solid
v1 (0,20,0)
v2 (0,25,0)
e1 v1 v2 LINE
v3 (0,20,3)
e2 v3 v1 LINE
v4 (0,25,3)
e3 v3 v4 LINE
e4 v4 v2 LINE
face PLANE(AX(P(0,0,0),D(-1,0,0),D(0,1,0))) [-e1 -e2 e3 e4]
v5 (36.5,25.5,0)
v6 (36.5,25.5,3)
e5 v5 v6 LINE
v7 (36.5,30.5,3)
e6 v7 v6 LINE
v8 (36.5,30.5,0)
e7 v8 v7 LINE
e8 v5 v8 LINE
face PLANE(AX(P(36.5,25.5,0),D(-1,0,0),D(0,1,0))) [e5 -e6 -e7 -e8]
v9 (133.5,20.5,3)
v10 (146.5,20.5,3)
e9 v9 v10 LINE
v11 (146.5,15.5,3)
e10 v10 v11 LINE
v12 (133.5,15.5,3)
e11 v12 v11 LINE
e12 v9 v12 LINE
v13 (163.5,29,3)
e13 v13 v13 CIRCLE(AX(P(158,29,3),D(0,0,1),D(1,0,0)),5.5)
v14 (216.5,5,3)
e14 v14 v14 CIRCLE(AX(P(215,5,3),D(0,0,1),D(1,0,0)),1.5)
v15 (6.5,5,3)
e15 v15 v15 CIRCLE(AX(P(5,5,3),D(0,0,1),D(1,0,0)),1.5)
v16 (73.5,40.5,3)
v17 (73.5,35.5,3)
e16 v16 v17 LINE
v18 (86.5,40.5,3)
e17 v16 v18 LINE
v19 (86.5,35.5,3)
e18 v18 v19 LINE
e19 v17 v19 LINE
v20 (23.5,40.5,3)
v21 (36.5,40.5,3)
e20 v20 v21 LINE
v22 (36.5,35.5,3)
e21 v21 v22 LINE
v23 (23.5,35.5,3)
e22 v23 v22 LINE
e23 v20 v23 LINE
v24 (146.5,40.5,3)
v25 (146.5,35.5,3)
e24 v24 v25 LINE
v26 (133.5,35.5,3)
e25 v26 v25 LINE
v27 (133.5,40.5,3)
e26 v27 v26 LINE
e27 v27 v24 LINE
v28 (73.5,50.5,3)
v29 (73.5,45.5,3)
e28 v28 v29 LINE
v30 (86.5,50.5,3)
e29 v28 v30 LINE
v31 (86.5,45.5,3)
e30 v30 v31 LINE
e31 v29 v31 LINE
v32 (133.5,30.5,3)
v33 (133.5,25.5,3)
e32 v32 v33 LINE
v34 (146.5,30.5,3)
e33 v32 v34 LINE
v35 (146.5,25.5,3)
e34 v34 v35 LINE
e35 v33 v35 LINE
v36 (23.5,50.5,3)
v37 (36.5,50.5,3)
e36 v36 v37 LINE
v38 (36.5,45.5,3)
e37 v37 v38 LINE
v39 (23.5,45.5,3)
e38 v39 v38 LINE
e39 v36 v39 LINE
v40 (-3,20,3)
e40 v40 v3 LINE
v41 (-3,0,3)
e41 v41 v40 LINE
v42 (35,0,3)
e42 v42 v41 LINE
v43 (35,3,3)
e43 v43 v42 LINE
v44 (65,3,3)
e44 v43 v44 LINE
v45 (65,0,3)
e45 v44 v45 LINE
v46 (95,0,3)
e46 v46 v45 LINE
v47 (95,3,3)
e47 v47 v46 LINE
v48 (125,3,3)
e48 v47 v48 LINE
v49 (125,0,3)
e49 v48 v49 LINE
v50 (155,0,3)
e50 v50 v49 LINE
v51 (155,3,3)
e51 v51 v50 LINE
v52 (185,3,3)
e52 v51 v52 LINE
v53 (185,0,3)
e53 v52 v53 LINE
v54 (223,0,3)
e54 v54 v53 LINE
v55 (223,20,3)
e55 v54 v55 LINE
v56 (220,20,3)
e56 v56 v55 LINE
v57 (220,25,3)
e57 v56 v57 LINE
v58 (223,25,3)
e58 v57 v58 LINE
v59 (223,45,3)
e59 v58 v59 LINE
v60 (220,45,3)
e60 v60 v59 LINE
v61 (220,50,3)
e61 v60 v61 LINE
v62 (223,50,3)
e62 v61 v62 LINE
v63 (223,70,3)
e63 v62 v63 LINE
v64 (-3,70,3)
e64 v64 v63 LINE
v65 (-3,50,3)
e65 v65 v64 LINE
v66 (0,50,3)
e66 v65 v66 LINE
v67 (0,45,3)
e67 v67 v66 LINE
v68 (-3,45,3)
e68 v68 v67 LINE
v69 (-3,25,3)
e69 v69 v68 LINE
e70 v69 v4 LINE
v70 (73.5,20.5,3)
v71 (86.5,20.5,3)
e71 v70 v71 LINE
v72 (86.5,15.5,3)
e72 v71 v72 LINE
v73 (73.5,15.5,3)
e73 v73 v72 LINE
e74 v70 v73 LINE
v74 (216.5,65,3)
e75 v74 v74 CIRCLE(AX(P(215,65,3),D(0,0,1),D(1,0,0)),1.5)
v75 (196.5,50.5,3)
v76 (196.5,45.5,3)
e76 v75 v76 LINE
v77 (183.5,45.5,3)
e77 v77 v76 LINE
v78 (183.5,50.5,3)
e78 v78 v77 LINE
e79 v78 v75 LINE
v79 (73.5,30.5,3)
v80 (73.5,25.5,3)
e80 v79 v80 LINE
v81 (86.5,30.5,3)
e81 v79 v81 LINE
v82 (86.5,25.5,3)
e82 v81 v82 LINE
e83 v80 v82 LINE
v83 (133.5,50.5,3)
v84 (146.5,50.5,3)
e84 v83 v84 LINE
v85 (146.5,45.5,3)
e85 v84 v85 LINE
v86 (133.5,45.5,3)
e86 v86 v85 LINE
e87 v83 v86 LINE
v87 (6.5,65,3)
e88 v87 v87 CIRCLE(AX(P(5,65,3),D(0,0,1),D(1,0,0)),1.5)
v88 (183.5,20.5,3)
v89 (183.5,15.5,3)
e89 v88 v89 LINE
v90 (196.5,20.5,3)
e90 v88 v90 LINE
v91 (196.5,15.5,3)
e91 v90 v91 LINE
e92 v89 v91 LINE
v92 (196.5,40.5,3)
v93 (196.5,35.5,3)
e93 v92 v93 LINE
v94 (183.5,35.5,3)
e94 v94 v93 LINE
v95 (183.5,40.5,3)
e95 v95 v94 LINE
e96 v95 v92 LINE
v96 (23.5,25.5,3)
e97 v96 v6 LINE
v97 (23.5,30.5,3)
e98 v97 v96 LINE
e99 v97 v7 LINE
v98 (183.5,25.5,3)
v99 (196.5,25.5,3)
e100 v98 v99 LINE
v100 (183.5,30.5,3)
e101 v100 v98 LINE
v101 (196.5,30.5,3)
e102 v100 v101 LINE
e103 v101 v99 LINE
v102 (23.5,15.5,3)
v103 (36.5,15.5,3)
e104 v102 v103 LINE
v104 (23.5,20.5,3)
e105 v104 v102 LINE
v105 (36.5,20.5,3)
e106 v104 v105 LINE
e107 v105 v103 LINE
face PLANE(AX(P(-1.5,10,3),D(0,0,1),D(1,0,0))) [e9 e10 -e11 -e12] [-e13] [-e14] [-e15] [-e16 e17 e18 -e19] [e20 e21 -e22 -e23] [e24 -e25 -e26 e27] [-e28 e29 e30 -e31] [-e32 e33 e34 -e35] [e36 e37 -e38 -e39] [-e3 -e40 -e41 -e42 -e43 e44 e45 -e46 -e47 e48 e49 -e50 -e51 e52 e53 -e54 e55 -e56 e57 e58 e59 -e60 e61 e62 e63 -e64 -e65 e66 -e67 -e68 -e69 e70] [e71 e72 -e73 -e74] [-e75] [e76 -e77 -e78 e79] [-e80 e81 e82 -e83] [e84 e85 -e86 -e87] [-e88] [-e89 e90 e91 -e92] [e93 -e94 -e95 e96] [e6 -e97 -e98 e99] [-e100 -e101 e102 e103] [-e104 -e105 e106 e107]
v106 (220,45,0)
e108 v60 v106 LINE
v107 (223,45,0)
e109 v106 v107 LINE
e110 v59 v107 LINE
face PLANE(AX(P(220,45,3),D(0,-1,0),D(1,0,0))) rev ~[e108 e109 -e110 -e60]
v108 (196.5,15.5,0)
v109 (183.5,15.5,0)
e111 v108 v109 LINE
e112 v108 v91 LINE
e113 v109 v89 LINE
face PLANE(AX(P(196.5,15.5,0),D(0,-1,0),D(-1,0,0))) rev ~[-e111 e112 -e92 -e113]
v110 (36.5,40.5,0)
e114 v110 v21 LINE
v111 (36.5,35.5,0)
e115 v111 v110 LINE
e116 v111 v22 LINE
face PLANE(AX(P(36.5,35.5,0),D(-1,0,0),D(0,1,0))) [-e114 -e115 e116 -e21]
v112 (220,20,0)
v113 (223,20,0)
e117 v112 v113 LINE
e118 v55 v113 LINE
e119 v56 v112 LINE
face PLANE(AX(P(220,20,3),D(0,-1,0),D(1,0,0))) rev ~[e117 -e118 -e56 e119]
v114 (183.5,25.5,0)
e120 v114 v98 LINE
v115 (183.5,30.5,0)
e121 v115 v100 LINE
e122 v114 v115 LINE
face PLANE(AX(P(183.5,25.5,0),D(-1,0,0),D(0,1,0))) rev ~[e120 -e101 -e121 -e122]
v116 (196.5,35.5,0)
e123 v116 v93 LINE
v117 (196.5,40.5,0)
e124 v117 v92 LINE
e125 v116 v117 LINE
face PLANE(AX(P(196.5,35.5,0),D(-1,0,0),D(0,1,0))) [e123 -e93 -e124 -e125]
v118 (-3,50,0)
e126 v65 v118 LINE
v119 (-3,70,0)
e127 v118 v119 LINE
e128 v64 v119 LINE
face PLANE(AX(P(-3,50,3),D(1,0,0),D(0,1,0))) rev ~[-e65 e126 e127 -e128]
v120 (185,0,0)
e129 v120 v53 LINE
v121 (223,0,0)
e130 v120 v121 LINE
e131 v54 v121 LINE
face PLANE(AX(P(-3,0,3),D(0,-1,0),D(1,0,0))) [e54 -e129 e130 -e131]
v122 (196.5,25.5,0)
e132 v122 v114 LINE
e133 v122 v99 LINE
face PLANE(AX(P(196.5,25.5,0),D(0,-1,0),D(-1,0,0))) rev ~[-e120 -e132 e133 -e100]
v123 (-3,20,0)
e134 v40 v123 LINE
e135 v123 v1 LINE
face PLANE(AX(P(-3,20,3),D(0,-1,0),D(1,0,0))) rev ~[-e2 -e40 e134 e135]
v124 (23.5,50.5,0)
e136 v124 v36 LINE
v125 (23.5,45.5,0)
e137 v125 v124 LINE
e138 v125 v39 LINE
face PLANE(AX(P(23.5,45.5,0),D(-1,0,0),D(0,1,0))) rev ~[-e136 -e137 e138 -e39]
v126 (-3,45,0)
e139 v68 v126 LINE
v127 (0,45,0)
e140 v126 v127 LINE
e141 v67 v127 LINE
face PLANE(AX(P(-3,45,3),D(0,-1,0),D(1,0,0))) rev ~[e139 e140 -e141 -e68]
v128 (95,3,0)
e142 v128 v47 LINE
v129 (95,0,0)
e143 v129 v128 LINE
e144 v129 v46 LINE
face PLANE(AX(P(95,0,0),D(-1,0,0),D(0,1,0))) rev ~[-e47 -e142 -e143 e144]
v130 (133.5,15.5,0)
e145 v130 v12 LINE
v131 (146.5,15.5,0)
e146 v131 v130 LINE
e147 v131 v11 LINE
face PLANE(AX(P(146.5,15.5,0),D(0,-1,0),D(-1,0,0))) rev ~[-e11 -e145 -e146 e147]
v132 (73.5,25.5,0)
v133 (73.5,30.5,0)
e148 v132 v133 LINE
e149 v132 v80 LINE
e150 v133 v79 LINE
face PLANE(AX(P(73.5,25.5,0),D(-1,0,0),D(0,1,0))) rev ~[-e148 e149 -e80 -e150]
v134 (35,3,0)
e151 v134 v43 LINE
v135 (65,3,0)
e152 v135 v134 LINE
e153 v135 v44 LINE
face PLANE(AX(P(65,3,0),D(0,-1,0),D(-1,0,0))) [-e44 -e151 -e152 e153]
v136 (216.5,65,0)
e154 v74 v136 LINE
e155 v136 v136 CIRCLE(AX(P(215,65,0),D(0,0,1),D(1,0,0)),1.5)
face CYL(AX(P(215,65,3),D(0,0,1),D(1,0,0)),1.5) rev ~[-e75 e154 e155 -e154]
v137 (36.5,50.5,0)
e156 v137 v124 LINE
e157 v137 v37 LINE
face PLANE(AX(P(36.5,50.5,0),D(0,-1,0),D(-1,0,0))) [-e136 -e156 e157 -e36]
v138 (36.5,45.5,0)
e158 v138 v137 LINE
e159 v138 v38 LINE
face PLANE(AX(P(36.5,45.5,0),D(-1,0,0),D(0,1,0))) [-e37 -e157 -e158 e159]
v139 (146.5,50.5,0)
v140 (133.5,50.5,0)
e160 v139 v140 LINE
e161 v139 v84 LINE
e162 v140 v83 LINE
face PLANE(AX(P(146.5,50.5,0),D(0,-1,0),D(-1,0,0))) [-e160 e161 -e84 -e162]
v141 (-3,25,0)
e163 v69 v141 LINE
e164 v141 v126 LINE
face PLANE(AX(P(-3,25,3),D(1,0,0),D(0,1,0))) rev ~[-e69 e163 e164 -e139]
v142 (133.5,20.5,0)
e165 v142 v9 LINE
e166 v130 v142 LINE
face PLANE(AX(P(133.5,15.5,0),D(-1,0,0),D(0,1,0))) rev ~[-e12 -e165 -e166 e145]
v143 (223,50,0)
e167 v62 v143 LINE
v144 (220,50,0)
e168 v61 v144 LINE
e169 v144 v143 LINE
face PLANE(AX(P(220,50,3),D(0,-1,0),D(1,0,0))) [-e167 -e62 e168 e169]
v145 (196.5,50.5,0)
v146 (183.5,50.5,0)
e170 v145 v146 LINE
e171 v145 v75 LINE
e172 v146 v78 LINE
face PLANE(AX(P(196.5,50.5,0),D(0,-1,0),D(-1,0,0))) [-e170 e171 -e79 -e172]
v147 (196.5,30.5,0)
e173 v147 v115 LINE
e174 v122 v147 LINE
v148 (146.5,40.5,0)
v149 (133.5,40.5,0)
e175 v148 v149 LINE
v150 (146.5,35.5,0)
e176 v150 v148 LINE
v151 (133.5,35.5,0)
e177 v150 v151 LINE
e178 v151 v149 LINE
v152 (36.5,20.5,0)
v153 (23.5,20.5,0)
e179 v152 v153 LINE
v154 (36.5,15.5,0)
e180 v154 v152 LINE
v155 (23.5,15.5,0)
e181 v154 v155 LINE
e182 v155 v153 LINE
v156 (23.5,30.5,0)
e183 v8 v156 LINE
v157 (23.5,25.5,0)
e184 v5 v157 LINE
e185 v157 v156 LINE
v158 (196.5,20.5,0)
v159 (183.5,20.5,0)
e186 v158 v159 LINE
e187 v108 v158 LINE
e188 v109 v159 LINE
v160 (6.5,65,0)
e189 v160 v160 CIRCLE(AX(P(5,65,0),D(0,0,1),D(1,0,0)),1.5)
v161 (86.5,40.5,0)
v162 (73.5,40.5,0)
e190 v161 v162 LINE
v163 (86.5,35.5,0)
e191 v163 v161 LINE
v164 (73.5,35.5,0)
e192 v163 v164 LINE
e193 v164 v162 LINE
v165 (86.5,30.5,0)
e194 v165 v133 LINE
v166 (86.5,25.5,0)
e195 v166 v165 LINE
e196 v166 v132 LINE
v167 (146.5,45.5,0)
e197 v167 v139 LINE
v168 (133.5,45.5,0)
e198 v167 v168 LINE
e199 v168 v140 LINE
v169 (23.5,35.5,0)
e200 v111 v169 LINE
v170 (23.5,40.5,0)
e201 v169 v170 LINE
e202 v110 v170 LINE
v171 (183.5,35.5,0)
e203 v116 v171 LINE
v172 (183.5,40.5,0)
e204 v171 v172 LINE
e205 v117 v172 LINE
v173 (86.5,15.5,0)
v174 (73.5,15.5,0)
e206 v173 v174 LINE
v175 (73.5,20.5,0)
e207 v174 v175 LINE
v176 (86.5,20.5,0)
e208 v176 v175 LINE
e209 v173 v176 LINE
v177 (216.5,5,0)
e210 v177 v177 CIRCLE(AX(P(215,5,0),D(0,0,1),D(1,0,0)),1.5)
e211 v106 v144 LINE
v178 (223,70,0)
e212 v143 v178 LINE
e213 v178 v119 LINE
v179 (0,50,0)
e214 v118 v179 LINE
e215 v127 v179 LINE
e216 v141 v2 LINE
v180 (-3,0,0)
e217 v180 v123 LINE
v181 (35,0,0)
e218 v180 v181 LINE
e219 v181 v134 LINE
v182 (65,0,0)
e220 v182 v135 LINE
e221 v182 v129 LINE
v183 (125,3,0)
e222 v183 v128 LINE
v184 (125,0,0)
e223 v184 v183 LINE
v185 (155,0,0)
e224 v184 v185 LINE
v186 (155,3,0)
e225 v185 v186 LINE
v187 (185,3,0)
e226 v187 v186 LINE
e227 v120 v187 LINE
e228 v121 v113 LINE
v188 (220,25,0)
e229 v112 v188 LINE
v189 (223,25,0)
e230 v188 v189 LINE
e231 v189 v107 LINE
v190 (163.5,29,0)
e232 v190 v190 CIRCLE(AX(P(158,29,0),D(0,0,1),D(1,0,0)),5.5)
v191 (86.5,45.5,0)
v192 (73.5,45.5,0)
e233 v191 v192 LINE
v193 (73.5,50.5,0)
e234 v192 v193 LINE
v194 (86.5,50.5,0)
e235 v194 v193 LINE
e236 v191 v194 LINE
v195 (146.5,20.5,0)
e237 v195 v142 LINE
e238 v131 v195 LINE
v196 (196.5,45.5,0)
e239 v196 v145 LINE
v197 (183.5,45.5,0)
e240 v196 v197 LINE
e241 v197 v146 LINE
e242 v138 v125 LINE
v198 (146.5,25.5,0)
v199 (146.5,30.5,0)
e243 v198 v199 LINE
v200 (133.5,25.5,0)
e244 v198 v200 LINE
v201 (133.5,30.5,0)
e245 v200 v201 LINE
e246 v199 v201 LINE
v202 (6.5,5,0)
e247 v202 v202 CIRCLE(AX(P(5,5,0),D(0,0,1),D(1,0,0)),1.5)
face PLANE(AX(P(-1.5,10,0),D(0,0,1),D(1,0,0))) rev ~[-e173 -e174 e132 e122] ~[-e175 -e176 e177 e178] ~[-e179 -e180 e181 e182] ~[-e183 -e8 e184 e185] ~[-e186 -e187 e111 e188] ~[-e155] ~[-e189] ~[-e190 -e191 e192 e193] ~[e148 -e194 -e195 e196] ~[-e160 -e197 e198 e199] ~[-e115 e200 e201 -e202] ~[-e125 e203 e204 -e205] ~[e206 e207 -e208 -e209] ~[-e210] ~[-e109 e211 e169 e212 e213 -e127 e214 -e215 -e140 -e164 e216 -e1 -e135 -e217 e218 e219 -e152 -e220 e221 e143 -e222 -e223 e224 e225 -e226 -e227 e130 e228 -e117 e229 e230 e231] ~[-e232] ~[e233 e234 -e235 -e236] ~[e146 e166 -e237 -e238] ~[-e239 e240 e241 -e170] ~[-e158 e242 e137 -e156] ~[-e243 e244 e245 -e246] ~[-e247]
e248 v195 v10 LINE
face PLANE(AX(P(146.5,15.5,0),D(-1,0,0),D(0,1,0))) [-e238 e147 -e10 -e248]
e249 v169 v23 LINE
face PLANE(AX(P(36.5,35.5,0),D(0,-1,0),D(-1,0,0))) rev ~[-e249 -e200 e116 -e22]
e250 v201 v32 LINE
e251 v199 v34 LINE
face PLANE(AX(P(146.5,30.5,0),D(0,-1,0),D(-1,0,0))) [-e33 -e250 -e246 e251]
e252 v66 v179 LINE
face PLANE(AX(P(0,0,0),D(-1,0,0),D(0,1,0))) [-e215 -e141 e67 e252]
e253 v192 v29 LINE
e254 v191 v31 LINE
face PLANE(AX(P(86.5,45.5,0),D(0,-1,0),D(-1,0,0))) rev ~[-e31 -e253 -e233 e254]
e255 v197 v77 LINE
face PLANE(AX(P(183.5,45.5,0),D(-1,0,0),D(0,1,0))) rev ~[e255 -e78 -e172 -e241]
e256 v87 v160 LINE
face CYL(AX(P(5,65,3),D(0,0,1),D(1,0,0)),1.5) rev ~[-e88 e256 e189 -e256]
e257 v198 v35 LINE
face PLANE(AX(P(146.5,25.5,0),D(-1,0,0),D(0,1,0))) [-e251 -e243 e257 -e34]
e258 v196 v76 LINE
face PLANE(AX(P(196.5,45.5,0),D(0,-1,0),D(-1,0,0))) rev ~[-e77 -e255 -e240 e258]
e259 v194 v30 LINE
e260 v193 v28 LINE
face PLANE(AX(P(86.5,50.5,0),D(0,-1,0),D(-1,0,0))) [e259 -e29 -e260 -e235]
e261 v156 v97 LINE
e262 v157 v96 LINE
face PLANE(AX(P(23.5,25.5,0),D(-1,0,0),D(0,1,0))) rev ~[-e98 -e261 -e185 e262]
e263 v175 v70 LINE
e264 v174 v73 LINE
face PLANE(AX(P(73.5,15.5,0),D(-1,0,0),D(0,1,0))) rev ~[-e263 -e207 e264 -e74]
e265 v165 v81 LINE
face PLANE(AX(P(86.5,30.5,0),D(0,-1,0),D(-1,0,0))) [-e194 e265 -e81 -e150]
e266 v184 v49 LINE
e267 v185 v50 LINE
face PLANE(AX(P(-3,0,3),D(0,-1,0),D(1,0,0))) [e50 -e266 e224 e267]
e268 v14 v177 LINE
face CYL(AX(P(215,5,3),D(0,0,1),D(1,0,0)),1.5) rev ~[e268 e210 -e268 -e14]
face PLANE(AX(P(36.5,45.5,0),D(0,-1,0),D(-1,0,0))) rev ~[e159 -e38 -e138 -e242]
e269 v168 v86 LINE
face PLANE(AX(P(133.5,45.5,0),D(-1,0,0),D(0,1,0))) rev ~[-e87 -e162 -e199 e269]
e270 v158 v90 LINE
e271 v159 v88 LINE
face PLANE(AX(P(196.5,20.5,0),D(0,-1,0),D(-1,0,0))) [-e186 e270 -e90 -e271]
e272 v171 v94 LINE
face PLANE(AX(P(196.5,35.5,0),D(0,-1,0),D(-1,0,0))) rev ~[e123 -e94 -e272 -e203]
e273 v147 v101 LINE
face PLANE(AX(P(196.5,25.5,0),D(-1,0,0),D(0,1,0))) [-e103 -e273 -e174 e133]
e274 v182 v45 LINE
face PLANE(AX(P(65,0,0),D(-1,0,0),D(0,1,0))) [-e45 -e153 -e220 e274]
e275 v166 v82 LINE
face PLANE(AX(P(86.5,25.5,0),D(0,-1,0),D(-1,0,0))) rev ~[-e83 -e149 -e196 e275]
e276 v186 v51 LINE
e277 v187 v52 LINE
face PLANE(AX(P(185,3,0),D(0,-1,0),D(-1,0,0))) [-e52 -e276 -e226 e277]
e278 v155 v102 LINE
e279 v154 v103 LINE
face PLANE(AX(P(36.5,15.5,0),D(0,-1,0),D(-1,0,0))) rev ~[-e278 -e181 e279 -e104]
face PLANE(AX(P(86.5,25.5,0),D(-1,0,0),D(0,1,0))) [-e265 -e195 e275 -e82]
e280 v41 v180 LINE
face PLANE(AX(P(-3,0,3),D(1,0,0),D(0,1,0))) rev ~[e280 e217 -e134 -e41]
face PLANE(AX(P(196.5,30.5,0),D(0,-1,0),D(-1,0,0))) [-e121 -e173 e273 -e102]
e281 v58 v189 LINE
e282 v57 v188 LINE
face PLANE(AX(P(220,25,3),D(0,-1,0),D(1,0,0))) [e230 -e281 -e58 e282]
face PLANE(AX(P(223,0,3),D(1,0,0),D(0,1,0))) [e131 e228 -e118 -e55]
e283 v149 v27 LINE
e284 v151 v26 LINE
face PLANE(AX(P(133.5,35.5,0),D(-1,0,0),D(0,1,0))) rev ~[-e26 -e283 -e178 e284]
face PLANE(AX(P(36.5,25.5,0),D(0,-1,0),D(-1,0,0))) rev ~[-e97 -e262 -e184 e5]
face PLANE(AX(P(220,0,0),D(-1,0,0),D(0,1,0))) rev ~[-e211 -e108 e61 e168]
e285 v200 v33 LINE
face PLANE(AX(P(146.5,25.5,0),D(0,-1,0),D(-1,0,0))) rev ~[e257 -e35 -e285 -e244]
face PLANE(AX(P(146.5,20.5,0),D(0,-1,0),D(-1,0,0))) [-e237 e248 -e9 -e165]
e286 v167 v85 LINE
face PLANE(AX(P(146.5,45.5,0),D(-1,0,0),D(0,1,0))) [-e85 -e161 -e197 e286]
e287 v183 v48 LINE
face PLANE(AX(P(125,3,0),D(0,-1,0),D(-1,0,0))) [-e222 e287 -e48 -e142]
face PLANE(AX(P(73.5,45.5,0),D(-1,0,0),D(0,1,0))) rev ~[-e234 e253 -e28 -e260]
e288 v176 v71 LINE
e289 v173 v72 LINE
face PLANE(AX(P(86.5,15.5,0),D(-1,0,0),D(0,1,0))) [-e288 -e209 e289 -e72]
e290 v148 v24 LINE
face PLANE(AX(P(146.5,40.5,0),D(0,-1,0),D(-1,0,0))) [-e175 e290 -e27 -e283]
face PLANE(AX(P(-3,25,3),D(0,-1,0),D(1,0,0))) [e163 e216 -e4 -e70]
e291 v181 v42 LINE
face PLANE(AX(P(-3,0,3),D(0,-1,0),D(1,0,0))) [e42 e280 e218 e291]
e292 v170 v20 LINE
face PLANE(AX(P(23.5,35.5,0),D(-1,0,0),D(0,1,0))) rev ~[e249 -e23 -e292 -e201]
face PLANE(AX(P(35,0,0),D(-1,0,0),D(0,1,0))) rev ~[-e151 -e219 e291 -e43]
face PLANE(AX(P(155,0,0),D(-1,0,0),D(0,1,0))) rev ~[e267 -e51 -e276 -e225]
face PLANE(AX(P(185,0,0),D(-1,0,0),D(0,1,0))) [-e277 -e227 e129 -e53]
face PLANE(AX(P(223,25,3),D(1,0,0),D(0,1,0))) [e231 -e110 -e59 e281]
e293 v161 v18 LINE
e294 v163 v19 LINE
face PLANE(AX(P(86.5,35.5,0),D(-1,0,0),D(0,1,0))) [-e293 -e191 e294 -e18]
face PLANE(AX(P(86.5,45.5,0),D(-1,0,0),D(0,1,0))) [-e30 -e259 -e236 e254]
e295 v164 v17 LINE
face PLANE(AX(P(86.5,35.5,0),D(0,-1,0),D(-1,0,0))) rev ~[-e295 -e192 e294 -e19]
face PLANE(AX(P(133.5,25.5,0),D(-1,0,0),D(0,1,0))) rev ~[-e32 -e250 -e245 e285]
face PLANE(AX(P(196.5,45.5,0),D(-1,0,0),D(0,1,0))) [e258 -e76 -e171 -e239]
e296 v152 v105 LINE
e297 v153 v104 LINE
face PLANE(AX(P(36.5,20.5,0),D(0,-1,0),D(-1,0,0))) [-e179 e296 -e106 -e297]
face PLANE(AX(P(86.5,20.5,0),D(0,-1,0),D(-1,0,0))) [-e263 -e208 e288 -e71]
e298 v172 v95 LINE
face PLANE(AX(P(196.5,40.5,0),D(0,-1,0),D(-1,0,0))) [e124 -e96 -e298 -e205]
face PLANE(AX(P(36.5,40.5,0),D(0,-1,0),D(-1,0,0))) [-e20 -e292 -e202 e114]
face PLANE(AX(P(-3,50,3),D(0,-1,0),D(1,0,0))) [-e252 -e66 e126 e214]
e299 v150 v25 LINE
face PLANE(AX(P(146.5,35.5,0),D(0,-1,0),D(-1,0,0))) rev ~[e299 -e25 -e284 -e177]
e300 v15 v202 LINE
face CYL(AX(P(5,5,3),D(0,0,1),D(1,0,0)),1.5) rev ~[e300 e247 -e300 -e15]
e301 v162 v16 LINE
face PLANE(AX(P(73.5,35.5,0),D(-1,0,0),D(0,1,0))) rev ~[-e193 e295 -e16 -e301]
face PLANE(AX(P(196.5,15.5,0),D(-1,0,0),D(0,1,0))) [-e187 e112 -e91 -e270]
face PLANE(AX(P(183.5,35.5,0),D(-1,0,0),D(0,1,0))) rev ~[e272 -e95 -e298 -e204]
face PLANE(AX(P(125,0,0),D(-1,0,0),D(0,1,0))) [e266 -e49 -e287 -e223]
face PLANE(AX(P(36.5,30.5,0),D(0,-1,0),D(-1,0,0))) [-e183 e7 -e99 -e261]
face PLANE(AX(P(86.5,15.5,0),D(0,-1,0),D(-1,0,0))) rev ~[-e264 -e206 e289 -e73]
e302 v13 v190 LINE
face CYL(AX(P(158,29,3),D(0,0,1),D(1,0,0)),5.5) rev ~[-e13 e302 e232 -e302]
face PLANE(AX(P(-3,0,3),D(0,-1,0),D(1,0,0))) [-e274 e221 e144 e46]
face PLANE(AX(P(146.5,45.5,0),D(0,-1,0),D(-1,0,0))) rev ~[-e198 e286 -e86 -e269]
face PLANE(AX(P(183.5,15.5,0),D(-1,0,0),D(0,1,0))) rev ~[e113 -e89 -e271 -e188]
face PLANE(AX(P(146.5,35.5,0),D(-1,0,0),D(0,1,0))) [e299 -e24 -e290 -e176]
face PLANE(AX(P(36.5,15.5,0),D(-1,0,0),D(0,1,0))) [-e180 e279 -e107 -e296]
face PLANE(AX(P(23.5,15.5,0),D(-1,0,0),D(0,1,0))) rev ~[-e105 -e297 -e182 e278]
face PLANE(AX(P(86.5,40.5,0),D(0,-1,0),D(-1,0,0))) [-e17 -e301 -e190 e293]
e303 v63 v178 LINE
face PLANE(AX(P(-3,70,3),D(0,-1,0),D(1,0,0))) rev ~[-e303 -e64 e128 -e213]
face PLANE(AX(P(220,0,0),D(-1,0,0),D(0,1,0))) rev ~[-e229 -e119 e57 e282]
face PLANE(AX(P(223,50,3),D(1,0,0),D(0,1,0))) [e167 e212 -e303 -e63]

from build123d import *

# Parameters (mm, degrees)
SKETCH1_W           = 220
SKETCH1_H           = 70
BOSS_EXTRUDE1_DEPTH = 3
SKETCH2_2_R         = 1.5
CUT_EXTRUDE2_DEPTH  = 231.887418453
SKETCH3_W           = 3
SKETCH3_H           = 20
BOSS_EXTRUDE4_DEPTH = 3
LPATTERN1_COUNT     = 2
LPATTERN1_PITCH     = 25
LPATTERN1_COL_COUNT = 2
LPATTERN1_COL_PITCH = 25
SKETCH4_W           = 30
SKETCH4_H           = 3
CUT_EXTRUDE3_DEPTH  = 234.747727262
SKETCH5_R           = 5.5
CUT_EXTRUDE4_DEPTH  = 234.747727262
SKETCH6_W           = 13
SKETCH6_H           = 5
CUT_EXTRUDE5_DEPTH  = 234.747727262


with BuildPart() as part:
    # Sketch1 → Boss-Extrude1 (new body)
    with BuildSketch(Plane.XY):
        with Locations((110, 35)):
            Rectangle(SKETCH1_W, SKETCH1_H)
    extrude(amount=BOSS_EXTRUDE1_DEPTH)

    # Sketch2<2> → Cut-Extrude2 (cut, through all)
    with BuildSketch(Plane.XY.offset(3)):
        with Locations((5, 65)):
            Circle(SKETCH2_2_R)
        with Locations((5, 5)):
            Circle(SKETCH2_2_R)
        with Locations((215, 5)):
            Circle(SKETCH2_2_R)
        with Locations((215, 65)):
            Circle(SKETCH2_2_R)
    extrude(amount=-CUT_EXTRUDE2_DEPTH, mode=Mode.SUBTRACT)

    # Sketch3 → Boss-Extrude4 (add)
    with BuildSketch(Plane.XY.offset(3)):
        with Locations((-1.5, 35)):
            Rectangle(SKETCH3_W, SKETCH3_H)
        with Locations((221.5, 35)):
            Rectangle(SKETCH3_W, SKETCH3_H)
    boss_extrude4 = extrude(amount=-BOSS_EXTRUDE4_DEPTH)

    # LPattern1: Boss-Extrude4 ×2
    with Locations(*[(0, i * LPATTERN1_PITCH, 0) for i in range(1, LPATTERN1_COUNT)]):
        add(boss_extrude4)

    # LPattern1 col: Boss-Extrude4 ×2
    with Locations(*[(0, -i * LPATTERN1_COL_PITCH, 0) for i in range(1, LPATTERN1_COL_COUNT)]):
        add(boss_extrude4)

    # Sketch4 → Cut-Extrude3 (cut, through all)
    with BuildSketch(Plane(origin=(0, 0, 0), x_dir=(-1, 0, 0), z_dir=(0, 0, -1))):
        with Locations((-170, 1.5)):
            Rectangle(SKETCH4_W, SKETCH4_H)
        with Locations((-110, 1.5)):
            Rectangle(SKETCH4_W, SKETCH4_H)
        with Locations((-50, 1.5)):
            Rectangle(SKETCH4_W, SKETCH4_H)
    extrude(amount=-CUT_EXTRUDE3_DEPTH, mode=Mode.SUBTRACT)

    # Sketch5 → Cut-Extrude4 (cut, through all)
    with BuildSketch(Plane.XY.offset(3)):
        with Locations((158, 29)):
            Circle(SKETCH5_R)
    extrude(amount=-CUT_EXTRUDE4_DEPTH, mode=Mode.SUBTRACT)

    # Sketch6 → Cut-Extrude5 (cut, through all)
    with BuildSketch(Plane(origin=(0, 0, 0), x_dir=(-1, 0, 0), z_dir=(0, 0, -1))):
        with Locations((-140, 48)):
            Rectangle(SKETCH6_W, SKETCH6_H)
        with Locations((-190, 48)):
            Rectangle(SKETCH6_W, SKETCH6_H)
        with Locations((-190, 38)):
            Rectangle(SKETCH6_W, SKETCH6_H)
        with Locations((-190, 28)):
            Rectangle(SKETCH6_W, SKETCH6_H)
        with Locations((-190, 18)):
            Rectangle(SKETCH6_W, SKETCH6_H)
        with Locations((-140, 38)):
            Rectangle(SKETCH6_W, SKETCH6_H)
        with Locations((-140, 28)):
            Rectangle(SKETCH6_W, SKETCH6_H)
        with Locations((-140, 18)):
            Rectangle(SKETCH6_W, SKETCH6_H)
        with Locations((-80, 18)):
            Rectangle(SKETCH6_W, SKETCH6_H)
        with Locations((-80, 28)):
            Rectangle(SKETCH6_W, SKETCH6_H)
        with Locations((-80, 38)):
            Rectangle(SKETCH6_W, SKETCH6_H)
        with Locations((-30, 18)):
            Rectangle(SKETCH6_W, SKETCH6_H)
        with Locations((-30, 28)):
            Rectangle(SKETCH6_W, SKETCH6_H)
        with Locations((-30, 38)):
            Rectangle(SKETCH6_W, SKETCH6_H)
        with Locations((-30, 48)):
            Rectangle(SKETCH6_W, SKETCH6_H)
        with Locations((-80, 48)):
            Rectangle(SKETCH6_W, SKETCH6_H)
    extrude(amount=-CUT_EXTRUDE5_DEPTH, mode=Mode.SUBTRACT)


solid = part.part
